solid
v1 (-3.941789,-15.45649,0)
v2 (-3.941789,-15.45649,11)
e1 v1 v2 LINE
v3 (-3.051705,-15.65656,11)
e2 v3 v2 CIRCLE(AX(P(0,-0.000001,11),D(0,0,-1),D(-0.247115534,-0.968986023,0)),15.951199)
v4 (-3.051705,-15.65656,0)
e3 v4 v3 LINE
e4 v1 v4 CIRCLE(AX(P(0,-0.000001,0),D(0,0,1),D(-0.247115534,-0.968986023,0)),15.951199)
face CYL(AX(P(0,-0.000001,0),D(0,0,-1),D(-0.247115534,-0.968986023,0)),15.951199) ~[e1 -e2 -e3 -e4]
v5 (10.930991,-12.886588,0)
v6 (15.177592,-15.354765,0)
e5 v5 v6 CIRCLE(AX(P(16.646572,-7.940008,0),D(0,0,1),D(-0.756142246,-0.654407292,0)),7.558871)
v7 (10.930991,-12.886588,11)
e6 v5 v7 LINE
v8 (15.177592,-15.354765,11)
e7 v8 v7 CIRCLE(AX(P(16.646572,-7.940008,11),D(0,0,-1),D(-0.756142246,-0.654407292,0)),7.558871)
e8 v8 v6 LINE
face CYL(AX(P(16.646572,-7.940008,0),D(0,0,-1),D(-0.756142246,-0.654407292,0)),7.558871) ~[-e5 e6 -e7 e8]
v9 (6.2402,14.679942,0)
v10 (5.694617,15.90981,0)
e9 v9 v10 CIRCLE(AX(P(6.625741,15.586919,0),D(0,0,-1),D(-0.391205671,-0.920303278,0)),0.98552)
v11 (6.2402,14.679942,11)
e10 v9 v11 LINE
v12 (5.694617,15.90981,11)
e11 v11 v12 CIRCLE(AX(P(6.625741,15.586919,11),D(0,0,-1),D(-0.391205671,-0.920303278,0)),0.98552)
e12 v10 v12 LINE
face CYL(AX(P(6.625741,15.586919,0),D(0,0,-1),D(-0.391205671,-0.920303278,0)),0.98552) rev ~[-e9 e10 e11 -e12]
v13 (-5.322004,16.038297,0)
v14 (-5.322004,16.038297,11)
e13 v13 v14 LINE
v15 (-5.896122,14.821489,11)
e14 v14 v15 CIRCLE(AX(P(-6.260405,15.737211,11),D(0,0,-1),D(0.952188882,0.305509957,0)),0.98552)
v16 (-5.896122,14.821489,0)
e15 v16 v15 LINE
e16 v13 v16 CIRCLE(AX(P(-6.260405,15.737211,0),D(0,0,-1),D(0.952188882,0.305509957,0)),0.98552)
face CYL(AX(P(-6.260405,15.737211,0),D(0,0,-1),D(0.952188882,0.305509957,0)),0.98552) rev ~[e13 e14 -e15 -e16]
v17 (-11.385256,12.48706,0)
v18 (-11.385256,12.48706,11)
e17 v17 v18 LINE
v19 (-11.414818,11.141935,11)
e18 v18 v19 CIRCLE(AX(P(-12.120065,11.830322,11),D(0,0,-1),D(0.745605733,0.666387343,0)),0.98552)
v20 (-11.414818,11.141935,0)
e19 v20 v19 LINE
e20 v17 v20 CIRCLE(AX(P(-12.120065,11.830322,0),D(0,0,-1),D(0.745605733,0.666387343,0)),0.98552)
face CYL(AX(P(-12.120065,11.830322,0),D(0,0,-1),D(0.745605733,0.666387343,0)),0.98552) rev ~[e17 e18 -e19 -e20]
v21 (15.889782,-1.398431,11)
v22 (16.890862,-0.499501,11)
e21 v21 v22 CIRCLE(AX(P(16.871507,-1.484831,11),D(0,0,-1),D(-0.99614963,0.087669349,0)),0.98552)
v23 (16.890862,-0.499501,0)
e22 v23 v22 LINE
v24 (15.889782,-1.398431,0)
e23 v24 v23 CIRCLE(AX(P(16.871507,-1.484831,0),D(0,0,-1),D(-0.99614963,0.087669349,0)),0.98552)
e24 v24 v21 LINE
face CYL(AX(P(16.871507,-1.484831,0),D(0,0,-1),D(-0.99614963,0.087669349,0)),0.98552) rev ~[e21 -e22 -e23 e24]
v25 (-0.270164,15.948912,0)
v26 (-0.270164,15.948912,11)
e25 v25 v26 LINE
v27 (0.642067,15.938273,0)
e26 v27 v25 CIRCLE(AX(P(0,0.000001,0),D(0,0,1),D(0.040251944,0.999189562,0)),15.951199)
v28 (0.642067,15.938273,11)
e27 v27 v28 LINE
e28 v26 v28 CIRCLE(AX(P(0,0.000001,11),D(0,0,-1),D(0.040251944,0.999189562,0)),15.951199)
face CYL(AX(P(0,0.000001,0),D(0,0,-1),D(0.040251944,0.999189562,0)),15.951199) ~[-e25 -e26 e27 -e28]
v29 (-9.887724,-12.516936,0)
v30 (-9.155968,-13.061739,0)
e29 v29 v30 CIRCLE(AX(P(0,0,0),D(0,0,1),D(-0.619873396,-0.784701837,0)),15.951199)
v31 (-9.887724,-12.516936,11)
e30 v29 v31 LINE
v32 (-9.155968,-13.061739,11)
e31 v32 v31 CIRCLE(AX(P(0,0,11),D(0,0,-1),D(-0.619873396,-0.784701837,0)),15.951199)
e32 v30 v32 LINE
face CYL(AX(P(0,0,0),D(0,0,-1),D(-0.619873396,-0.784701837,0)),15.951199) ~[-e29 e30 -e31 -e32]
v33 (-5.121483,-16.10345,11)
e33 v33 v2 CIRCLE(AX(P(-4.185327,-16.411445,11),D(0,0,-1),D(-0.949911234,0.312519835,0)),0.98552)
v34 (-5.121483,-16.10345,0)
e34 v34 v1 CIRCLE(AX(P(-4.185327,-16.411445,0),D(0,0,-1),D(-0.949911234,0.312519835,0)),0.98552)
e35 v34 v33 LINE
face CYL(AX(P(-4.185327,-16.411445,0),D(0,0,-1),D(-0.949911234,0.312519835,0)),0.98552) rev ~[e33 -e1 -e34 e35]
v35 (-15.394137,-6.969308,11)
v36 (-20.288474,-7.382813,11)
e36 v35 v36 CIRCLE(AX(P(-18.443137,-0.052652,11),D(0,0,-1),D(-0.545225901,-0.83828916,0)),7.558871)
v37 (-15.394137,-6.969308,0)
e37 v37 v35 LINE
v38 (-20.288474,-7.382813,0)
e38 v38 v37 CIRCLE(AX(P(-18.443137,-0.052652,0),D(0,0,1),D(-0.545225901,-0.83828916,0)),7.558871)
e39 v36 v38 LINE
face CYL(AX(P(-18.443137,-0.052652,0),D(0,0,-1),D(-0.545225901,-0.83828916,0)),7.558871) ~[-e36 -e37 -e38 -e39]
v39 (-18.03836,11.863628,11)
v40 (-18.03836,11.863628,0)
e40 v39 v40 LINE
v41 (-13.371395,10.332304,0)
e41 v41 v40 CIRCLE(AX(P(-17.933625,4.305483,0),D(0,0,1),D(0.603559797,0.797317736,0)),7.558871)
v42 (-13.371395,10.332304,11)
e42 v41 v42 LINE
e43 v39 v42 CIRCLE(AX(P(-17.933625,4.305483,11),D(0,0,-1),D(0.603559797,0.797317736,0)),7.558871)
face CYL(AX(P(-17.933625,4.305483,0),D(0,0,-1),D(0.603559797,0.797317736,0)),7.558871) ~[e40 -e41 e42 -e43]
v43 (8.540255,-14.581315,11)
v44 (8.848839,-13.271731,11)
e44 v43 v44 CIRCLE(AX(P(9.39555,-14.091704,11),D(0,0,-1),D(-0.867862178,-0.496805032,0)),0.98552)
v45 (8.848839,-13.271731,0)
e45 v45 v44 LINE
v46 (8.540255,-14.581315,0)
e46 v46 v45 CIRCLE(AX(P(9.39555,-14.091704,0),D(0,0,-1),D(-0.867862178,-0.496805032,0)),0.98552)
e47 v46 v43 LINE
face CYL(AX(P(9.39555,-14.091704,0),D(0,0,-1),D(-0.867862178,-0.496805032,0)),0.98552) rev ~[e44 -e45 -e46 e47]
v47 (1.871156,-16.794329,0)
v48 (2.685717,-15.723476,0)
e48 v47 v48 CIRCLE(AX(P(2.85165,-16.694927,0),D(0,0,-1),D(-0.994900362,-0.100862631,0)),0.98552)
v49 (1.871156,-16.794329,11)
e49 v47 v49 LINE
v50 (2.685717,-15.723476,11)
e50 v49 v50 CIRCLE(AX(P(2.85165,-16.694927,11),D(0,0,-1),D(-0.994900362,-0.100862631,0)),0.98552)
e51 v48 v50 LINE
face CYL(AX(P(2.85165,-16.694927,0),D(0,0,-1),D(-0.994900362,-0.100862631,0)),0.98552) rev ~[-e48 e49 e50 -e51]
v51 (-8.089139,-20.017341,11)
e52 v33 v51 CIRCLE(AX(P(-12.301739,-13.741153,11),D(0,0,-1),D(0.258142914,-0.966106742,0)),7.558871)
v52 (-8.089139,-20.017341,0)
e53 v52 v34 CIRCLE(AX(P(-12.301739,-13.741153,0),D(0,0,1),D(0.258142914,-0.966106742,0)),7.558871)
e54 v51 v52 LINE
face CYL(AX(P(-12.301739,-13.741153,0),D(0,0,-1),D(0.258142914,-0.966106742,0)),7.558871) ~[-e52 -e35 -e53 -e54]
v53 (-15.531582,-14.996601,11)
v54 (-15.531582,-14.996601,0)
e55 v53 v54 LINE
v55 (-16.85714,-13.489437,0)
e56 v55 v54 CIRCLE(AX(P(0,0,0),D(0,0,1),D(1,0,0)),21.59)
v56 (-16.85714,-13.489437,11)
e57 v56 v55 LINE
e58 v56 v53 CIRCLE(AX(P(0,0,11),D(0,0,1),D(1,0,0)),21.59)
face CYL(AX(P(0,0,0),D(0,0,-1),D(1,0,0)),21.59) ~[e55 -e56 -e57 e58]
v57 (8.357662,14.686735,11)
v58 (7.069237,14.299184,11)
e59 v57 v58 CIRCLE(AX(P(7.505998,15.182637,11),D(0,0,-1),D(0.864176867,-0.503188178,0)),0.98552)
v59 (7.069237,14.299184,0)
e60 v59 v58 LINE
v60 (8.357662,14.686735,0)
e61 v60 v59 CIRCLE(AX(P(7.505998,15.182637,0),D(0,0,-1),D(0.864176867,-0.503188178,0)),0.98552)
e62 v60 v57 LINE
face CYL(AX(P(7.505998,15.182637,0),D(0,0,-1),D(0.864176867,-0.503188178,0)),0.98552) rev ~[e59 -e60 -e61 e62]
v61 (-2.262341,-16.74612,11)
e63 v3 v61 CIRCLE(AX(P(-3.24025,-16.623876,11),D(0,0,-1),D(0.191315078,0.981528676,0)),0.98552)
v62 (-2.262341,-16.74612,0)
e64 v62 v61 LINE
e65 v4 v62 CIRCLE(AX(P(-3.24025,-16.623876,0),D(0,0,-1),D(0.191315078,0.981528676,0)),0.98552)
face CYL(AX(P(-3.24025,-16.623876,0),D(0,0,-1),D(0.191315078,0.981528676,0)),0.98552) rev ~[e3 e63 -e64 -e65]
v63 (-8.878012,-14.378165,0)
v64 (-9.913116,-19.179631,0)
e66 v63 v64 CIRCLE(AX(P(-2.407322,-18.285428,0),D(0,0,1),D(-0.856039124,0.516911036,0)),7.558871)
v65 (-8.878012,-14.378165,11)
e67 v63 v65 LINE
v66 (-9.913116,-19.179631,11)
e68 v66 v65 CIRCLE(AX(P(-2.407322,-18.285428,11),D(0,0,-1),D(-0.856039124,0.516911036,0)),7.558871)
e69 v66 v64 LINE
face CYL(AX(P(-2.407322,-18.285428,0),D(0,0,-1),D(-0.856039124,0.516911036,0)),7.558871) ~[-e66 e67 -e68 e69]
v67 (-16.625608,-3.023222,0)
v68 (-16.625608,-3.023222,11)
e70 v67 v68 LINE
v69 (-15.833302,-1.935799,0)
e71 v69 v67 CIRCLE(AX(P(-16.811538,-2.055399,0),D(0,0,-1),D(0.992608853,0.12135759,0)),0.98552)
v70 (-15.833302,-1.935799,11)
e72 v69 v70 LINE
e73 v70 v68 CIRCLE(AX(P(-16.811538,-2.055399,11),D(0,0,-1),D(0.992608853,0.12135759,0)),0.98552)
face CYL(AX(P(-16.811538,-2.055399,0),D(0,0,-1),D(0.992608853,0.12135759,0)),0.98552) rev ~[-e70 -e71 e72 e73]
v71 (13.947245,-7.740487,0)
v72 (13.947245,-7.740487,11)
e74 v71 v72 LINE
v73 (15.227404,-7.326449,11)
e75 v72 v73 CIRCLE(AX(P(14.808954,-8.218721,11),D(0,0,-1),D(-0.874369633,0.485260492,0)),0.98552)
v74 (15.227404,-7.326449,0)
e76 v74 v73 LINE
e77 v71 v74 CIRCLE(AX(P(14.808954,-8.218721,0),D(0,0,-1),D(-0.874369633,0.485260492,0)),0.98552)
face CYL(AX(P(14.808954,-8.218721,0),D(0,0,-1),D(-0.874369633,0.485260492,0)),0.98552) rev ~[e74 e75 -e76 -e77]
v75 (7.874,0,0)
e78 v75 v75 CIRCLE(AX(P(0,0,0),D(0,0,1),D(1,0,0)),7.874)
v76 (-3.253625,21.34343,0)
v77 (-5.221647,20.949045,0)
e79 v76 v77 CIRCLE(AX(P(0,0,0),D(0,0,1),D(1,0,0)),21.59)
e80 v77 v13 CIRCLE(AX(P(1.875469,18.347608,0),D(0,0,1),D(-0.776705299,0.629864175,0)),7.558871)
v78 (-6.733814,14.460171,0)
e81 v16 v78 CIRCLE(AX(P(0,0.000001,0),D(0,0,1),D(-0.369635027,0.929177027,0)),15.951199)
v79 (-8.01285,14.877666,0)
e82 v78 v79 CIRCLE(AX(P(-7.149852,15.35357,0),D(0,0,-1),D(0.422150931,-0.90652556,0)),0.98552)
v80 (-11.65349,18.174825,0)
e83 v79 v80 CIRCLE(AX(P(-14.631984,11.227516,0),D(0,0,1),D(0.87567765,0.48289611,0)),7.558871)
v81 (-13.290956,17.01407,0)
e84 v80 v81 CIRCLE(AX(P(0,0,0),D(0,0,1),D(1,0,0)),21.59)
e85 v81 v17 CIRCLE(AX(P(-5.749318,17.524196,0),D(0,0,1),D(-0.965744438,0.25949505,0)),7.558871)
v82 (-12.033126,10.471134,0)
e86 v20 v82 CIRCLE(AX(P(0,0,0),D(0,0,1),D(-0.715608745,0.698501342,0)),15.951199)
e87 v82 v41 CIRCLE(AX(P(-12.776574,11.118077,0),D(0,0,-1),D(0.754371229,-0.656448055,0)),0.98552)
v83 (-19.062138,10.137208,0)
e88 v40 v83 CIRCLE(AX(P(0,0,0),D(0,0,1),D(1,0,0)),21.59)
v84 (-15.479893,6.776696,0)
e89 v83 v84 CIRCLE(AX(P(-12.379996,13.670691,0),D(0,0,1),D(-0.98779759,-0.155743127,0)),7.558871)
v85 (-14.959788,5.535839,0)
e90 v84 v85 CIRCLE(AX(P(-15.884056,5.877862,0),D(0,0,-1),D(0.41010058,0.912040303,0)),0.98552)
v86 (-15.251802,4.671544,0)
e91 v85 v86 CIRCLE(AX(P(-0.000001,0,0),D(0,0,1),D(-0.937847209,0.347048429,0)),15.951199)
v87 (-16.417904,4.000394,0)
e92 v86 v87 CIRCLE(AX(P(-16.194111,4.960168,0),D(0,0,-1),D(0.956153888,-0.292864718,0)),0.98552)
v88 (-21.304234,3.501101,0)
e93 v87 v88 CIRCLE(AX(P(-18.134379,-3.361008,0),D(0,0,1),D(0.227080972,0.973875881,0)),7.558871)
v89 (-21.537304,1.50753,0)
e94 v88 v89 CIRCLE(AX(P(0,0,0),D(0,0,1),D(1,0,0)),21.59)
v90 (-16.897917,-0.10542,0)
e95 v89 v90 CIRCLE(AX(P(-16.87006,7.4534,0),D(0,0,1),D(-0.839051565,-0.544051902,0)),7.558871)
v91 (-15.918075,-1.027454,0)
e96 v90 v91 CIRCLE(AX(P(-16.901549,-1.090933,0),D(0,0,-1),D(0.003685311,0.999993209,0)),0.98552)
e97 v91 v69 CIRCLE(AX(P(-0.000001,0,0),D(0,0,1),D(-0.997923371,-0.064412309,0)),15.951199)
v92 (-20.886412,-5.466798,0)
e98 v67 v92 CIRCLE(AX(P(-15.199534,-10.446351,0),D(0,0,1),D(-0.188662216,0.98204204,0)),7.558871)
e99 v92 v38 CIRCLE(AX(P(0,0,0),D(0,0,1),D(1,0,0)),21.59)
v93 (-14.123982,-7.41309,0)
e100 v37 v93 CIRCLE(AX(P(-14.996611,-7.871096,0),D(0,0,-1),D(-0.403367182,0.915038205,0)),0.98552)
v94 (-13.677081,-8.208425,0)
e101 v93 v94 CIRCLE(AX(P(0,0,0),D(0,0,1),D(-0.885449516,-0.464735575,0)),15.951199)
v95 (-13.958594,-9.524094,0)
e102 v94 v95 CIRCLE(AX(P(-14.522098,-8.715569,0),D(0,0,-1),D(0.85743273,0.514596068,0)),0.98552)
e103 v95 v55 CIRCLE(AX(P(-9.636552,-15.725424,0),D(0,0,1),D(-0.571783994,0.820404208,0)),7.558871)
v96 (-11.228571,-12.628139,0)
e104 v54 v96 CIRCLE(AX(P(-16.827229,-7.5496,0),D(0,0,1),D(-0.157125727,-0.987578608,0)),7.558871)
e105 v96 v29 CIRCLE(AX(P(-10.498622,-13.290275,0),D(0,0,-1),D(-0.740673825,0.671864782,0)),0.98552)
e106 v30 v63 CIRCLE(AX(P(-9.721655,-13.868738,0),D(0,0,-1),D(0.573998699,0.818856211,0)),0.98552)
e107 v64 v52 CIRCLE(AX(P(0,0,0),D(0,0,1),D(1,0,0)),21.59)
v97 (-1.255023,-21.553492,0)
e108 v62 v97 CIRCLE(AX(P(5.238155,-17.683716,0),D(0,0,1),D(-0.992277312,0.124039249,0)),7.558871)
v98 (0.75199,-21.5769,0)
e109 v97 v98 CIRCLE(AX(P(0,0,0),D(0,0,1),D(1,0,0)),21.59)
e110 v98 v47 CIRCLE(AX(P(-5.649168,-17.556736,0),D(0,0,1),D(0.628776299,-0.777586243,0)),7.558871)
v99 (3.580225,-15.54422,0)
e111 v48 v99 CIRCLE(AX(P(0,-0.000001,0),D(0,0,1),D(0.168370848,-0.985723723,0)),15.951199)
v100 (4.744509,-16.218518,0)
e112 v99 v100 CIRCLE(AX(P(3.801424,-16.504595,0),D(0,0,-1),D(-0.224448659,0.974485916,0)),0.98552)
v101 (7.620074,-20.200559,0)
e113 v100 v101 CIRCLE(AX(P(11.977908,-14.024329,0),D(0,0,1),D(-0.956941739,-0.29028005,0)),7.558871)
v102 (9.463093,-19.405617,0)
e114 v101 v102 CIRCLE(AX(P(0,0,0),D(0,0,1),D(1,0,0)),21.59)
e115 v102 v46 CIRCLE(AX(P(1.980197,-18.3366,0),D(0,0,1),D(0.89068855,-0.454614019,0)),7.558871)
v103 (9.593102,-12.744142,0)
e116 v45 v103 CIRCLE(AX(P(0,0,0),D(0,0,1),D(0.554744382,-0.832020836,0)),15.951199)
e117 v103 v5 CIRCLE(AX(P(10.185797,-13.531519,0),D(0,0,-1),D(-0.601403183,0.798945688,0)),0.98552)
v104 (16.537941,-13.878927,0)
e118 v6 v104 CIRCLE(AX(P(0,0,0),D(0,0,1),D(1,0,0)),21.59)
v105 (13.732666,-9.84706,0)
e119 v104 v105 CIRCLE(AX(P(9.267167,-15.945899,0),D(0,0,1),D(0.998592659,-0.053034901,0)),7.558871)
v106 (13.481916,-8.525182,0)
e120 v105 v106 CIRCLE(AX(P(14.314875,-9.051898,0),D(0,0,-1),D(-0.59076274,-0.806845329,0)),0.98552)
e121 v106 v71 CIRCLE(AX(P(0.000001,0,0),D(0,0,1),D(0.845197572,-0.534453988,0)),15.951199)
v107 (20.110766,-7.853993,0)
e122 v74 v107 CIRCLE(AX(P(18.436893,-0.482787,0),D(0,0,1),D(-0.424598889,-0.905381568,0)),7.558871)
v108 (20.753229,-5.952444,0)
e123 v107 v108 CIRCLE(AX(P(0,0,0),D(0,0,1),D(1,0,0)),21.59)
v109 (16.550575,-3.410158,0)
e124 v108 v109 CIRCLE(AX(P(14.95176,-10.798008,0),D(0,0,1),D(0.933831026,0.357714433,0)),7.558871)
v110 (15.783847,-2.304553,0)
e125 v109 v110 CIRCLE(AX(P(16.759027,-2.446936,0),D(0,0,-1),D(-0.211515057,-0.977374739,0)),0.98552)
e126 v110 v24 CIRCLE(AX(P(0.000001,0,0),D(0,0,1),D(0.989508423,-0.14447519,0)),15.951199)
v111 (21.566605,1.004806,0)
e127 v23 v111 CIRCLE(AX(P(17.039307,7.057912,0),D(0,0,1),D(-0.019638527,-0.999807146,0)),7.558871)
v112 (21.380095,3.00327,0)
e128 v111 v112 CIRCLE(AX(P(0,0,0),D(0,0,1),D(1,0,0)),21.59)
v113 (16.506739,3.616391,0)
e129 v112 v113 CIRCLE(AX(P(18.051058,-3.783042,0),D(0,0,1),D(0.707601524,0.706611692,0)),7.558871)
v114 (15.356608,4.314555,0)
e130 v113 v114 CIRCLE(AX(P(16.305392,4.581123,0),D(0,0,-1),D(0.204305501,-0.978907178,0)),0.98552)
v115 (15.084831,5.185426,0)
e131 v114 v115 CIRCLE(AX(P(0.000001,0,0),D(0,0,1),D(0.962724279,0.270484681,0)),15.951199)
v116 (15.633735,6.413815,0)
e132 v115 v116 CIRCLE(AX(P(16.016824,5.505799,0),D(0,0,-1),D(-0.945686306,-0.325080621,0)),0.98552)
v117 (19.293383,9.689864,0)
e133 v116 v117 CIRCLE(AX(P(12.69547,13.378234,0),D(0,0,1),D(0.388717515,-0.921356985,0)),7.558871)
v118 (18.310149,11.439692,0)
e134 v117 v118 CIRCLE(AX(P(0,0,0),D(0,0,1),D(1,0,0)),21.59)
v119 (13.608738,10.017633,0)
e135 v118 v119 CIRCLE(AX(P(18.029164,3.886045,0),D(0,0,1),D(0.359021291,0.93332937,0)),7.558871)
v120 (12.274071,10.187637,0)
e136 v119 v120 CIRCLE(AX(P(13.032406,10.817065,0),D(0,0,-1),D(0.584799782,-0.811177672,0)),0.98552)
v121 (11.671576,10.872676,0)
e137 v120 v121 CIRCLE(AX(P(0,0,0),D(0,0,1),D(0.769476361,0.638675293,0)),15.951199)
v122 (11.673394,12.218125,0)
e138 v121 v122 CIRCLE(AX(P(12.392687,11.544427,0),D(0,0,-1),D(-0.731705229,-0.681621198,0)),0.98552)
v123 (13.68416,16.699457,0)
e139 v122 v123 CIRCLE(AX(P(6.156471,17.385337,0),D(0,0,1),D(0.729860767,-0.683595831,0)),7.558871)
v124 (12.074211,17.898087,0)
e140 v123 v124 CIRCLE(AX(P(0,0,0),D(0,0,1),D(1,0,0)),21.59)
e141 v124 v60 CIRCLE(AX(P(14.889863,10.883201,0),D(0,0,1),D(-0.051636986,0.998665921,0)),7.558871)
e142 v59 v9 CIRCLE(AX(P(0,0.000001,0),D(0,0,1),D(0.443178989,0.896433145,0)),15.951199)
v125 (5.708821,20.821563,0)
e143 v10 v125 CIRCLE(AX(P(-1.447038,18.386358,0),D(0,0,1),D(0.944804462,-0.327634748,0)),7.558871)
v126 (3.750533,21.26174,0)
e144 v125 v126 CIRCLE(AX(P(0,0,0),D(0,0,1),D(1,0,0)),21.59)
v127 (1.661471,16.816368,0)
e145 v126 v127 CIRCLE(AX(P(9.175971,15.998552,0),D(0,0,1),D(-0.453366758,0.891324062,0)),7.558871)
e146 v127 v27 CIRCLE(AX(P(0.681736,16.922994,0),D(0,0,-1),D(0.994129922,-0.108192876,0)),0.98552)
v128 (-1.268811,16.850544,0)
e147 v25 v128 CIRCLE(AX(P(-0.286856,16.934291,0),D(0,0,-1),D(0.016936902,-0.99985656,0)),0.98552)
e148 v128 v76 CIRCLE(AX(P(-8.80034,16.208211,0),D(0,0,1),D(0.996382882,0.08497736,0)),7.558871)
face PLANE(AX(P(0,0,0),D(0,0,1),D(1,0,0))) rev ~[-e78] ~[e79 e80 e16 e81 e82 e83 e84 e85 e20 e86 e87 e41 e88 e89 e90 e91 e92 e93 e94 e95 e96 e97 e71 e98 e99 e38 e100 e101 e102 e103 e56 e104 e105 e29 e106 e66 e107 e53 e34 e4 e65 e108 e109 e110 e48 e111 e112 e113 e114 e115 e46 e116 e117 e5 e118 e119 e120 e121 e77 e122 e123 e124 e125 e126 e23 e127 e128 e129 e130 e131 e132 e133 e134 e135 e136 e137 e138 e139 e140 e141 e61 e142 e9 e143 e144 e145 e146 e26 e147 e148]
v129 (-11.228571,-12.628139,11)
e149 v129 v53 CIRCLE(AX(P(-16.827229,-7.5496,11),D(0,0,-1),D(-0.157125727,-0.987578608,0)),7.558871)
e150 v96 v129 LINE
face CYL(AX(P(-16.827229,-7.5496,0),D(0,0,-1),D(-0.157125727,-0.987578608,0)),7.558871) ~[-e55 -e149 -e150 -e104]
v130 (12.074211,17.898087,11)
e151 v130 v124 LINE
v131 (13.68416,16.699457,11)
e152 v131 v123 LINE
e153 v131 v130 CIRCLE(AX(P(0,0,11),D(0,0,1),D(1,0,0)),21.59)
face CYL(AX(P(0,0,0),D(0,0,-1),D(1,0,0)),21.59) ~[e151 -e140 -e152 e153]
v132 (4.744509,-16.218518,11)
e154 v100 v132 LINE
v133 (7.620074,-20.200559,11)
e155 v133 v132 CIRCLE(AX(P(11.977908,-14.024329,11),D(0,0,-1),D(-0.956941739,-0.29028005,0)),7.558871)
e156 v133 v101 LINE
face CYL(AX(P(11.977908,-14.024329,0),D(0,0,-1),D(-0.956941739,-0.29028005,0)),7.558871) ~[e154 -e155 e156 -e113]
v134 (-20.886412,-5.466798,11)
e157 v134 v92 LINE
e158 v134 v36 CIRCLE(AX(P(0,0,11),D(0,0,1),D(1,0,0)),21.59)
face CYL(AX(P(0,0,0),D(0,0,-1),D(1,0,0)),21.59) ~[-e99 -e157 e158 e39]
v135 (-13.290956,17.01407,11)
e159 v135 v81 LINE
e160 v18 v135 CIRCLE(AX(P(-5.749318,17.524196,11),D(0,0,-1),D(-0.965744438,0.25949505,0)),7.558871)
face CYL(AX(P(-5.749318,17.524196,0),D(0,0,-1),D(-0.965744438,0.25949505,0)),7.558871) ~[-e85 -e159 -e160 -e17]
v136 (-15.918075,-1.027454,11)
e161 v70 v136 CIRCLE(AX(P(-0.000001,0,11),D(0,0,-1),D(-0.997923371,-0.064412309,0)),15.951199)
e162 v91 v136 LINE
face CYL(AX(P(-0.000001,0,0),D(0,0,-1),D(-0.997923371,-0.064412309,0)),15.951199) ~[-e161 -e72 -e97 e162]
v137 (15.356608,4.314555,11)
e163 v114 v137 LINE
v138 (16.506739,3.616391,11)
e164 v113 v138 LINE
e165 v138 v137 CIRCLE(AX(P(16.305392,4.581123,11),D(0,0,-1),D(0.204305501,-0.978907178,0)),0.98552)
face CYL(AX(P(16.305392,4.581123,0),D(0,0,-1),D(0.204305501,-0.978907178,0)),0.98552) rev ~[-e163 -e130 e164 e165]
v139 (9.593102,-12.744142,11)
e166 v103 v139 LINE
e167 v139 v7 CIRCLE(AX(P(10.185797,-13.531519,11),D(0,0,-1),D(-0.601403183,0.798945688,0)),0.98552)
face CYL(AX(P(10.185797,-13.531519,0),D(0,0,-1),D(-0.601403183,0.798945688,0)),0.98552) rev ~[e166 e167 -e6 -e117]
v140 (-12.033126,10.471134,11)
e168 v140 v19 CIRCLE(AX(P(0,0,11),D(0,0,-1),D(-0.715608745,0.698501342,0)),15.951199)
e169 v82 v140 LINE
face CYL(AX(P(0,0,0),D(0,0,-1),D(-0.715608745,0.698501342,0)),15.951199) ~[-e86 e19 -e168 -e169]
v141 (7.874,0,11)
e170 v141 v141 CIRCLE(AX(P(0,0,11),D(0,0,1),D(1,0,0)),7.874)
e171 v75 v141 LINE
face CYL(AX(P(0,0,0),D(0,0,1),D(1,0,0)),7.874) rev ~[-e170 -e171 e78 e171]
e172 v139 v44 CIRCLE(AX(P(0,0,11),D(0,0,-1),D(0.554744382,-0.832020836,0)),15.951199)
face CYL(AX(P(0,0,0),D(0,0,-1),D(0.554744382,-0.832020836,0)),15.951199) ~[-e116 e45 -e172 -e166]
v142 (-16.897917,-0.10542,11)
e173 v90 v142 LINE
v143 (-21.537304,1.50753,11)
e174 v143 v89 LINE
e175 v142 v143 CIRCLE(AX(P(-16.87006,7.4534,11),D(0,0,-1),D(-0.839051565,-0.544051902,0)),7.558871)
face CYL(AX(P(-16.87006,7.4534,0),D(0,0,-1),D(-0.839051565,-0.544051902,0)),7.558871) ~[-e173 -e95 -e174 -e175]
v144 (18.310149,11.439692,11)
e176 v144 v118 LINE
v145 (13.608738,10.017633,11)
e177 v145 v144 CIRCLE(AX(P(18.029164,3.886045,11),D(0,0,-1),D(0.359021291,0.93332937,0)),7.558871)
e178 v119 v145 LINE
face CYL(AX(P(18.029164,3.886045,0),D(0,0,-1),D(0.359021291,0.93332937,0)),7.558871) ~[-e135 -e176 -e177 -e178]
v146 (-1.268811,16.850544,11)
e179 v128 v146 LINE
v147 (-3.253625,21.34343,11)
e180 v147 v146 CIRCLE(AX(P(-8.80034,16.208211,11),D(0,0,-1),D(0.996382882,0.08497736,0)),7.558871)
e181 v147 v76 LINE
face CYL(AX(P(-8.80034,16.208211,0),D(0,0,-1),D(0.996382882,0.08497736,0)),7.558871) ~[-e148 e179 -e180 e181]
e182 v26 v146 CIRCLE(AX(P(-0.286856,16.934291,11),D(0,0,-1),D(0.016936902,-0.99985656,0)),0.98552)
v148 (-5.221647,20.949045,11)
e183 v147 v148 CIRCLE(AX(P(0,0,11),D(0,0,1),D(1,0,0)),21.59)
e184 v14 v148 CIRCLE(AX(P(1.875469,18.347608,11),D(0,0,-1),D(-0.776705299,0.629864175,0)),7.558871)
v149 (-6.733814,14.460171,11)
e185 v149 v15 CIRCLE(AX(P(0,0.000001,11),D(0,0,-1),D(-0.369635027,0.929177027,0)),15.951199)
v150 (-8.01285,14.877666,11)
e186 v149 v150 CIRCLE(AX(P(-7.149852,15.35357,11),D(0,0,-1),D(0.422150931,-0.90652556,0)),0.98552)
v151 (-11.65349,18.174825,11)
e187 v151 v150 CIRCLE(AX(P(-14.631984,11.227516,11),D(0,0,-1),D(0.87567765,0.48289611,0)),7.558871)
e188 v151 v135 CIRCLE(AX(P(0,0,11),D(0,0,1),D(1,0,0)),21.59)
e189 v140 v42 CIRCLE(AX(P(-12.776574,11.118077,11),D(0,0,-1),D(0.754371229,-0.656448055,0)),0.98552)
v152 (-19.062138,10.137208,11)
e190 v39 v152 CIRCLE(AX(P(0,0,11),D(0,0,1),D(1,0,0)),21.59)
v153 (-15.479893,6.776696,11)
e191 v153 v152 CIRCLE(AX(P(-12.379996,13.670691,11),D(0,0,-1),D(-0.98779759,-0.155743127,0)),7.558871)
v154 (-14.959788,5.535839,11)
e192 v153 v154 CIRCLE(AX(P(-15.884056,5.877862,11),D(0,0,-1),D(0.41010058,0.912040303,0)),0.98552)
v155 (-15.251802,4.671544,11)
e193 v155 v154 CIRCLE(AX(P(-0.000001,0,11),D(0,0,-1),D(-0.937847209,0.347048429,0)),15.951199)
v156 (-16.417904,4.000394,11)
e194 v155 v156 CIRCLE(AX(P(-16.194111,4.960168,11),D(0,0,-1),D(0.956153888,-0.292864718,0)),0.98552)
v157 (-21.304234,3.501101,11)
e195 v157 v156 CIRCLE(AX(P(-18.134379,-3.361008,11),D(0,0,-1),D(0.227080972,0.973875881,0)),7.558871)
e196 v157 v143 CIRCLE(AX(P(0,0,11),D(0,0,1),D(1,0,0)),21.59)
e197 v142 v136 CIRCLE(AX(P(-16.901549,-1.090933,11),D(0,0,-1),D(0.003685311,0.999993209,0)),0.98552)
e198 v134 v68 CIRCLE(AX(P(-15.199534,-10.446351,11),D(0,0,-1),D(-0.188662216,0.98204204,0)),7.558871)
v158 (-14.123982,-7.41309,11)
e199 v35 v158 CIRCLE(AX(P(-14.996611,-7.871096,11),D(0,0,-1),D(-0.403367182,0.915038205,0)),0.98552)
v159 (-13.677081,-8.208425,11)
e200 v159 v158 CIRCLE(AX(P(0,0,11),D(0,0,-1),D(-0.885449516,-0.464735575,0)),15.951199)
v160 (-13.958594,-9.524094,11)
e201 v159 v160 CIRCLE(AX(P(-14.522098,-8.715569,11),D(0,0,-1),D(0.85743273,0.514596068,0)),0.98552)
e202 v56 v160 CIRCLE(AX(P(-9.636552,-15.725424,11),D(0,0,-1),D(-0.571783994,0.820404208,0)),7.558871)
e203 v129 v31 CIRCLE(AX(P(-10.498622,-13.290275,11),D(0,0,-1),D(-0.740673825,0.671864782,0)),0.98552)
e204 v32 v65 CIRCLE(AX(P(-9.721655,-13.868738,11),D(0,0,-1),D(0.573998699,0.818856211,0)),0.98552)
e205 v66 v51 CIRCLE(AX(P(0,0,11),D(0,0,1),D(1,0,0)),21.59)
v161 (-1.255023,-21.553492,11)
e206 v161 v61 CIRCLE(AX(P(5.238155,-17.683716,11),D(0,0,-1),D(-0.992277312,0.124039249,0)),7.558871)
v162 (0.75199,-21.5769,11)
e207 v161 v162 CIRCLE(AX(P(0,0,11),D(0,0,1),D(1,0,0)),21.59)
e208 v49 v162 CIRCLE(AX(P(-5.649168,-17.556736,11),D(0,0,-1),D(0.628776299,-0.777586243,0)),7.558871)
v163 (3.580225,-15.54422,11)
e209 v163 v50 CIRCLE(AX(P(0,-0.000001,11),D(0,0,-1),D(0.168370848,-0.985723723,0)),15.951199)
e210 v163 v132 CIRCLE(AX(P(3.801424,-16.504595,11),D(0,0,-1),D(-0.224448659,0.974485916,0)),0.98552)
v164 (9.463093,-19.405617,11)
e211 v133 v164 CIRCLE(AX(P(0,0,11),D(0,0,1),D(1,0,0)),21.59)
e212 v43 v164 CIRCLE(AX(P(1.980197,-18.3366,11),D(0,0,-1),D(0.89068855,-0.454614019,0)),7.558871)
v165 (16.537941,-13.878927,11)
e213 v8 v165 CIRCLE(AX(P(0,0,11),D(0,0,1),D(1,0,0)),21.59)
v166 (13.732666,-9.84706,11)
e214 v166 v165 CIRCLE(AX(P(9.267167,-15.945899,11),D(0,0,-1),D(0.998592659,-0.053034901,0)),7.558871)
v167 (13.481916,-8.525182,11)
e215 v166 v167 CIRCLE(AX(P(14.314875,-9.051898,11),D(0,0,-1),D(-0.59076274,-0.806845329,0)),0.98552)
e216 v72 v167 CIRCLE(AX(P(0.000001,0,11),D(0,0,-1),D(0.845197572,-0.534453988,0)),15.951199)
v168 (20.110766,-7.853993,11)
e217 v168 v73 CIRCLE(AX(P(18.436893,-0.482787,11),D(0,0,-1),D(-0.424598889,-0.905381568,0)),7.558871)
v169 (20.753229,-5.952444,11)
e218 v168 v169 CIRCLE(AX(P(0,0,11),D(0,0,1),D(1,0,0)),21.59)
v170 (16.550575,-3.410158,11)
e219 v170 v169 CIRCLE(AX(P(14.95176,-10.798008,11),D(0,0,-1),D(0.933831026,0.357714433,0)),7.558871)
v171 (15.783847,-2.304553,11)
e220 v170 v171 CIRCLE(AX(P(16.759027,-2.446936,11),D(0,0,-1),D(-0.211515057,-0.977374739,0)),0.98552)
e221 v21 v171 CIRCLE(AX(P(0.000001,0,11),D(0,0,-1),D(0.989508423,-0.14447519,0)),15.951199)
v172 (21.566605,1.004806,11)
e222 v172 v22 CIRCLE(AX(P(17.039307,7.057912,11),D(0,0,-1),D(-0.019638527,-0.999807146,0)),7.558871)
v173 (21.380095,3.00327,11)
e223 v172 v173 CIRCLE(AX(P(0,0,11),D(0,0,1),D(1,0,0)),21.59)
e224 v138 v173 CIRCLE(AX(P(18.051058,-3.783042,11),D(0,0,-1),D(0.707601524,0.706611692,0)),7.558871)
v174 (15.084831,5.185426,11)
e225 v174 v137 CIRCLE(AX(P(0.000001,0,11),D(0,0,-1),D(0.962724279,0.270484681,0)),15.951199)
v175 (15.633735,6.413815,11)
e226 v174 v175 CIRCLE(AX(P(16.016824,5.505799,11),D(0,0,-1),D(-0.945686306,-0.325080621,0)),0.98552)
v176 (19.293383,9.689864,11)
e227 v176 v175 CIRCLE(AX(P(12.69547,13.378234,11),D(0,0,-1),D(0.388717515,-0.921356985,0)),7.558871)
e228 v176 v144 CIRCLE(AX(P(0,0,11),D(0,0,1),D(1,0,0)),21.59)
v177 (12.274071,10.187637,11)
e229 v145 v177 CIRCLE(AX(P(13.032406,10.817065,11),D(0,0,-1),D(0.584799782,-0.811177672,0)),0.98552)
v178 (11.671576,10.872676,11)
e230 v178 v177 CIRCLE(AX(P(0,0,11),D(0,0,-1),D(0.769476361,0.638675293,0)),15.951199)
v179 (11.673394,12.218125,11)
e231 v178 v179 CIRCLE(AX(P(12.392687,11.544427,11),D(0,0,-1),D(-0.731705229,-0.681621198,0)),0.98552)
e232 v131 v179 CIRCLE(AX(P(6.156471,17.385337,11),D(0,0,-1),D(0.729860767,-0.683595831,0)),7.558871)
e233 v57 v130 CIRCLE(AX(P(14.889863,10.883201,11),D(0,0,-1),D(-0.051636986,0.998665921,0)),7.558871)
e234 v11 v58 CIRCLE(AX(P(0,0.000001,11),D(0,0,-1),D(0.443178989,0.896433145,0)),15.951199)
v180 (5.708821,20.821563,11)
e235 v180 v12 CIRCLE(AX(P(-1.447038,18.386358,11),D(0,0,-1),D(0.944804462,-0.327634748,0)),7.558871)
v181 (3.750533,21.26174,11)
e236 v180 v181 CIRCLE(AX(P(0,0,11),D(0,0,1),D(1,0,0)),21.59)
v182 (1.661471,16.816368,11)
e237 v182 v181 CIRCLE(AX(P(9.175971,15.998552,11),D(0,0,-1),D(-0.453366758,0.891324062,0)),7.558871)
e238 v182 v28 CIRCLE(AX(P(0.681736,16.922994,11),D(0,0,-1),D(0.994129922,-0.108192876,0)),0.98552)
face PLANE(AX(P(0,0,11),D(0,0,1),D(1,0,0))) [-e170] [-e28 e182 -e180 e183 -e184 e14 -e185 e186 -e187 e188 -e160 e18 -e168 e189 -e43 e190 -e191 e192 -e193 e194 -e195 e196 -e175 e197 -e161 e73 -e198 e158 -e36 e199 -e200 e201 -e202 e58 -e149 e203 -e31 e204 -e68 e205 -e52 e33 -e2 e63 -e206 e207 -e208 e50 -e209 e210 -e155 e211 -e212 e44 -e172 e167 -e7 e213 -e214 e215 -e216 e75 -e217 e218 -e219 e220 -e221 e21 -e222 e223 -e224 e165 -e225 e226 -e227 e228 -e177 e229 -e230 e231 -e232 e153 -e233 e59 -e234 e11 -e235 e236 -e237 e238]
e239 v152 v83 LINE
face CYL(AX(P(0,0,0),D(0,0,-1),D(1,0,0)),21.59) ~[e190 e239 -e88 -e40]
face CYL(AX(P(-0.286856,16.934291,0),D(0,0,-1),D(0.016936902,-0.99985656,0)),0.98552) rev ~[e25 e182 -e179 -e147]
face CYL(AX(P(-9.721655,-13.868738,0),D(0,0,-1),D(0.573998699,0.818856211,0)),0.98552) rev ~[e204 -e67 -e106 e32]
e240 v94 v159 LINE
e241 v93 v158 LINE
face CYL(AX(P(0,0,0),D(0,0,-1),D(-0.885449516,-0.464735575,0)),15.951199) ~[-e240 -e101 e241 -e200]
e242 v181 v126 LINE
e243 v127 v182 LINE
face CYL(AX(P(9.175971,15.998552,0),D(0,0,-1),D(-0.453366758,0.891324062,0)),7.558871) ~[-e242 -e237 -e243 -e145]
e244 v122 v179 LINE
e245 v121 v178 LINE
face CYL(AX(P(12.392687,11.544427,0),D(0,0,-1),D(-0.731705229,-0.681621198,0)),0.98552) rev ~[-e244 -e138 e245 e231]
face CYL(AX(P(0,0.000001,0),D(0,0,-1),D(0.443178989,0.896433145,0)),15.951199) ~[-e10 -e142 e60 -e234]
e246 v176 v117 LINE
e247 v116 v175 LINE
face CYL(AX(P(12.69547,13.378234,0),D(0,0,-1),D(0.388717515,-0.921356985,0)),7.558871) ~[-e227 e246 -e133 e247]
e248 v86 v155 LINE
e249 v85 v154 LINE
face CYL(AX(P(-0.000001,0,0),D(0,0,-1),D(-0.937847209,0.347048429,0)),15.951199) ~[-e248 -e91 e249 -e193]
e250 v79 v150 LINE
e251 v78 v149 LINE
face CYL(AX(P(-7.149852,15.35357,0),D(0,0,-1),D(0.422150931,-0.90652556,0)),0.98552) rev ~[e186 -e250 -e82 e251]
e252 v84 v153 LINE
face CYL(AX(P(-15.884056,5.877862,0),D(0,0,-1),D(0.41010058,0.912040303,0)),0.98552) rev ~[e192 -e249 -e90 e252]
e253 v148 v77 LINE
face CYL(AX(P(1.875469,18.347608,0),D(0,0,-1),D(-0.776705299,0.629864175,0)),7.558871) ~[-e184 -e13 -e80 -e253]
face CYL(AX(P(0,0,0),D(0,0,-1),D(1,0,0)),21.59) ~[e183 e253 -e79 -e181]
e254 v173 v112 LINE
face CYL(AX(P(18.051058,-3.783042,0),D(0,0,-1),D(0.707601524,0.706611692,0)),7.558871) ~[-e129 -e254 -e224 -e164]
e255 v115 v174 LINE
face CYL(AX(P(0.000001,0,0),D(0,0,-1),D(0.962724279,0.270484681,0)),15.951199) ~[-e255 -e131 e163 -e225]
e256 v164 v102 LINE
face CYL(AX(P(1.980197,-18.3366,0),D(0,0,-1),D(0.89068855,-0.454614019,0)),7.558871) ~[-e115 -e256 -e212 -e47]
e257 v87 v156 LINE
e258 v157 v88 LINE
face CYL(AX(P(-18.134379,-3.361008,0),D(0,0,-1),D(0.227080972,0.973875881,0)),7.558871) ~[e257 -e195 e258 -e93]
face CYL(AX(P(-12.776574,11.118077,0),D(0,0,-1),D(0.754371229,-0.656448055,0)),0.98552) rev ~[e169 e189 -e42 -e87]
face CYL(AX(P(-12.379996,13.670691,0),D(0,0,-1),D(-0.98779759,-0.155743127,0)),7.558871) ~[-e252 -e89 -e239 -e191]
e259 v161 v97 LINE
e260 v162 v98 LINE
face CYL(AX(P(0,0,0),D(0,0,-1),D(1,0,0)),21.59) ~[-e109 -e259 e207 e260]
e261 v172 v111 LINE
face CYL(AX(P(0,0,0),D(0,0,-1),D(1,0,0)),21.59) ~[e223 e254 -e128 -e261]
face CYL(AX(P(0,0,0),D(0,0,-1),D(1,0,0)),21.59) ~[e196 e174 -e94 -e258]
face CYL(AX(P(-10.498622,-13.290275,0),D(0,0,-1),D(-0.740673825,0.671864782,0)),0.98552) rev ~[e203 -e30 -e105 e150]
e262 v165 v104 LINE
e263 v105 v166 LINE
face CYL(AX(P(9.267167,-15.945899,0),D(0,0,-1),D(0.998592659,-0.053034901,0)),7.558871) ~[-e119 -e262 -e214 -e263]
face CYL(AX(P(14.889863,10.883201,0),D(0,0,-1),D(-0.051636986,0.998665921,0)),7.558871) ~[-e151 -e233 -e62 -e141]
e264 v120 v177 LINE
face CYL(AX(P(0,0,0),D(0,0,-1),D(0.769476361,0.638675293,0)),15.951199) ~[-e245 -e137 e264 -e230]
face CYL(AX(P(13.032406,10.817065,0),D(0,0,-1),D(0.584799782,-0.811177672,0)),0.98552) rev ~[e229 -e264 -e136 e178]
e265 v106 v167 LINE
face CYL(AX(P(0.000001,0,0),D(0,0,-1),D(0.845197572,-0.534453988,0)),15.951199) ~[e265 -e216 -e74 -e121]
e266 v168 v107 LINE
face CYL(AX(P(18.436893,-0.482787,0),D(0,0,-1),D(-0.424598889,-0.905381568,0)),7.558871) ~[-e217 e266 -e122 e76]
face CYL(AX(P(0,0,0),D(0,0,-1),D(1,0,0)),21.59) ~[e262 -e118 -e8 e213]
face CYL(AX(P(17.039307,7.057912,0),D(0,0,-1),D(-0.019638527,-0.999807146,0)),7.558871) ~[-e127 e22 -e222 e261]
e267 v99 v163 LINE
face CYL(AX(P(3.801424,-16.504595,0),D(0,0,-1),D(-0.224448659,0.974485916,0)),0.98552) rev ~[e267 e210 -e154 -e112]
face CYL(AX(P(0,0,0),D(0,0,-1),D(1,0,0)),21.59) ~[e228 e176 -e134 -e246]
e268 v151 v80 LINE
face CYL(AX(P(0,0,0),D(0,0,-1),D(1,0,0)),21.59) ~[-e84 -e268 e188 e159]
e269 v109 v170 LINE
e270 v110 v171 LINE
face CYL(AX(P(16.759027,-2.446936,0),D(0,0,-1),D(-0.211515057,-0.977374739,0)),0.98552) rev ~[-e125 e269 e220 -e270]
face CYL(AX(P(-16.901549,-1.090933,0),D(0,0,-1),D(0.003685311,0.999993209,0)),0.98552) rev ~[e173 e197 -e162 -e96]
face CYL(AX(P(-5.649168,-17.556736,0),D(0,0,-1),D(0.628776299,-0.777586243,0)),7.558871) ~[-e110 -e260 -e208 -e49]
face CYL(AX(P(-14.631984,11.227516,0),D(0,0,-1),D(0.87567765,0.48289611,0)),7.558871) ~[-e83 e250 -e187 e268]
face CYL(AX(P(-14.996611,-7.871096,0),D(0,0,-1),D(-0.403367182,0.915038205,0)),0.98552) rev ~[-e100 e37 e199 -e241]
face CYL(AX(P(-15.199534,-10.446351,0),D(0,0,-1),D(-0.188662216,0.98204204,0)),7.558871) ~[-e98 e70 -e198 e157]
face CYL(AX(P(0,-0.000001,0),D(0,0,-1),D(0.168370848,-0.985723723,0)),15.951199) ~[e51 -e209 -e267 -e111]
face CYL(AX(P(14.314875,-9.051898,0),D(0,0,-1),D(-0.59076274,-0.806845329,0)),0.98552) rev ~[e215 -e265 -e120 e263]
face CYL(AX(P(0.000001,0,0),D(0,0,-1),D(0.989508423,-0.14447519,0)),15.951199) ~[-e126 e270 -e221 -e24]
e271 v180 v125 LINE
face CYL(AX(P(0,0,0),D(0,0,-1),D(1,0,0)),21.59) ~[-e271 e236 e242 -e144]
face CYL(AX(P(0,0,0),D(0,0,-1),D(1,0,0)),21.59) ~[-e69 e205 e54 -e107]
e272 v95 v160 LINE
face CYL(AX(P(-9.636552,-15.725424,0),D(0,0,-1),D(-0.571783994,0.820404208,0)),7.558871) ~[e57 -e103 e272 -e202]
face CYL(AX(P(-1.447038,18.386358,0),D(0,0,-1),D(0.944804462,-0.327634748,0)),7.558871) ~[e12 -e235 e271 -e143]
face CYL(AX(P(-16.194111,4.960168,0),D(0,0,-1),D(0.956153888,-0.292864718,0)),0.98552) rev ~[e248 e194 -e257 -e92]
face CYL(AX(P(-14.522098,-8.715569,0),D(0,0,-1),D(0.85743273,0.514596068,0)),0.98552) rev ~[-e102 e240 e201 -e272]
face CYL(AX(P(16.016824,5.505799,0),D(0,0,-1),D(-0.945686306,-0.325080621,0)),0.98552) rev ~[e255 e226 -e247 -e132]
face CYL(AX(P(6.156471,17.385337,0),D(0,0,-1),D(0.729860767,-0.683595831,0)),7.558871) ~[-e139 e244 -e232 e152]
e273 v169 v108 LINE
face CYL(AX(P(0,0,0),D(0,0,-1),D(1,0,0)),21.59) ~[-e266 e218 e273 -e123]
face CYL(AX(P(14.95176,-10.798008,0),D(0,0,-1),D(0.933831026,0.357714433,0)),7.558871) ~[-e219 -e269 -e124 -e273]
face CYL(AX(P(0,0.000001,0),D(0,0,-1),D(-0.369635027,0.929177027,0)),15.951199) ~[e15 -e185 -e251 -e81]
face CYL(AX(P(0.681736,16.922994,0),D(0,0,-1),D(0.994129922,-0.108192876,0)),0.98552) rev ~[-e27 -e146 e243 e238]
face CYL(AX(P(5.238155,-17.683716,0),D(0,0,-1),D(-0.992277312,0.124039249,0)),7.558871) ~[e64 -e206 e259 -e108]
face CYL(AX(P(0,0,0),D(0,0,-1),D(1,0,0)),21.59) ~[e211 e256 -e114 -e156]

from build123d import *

# Parameters (mm, degrees)
SKETCH3_R         = 21.59
GEARBODY_DEPTH    = 11
TOOTHCUT_DEPTH    = 12
CIRPATTERN1_COUNT = 15
BOREDIA_R         = 7.874
BORE_DEPTH        = 12700


with BuildPart() as part:
    # Sketch3 → gearBody (new body)
    with BuildSketch(Plane.XY):
        Circle(SKETCH3_R)
    extrude(amount=GEARBODY_DEPTH)

    # Sketch2 → toothCut (cut, through all)
    with BuildSketch(Plane.XY):
        with BuildLine():
            ThreePointArc((15.783846764, -2.304552616), (15.843293638, -1.852249483), (15.889781974, -1.39843136))
            ThreePointArc((15.889781974, -1.39843136), (16.213055843, -0.751556907), (16.890861518, -0.499501321))
            ThreePointArc((16.890861518, -0.499501321), (20.504912911, 0.340315353), (23.283949955, 2.798691365))
            ThreePointArc((23.283949955, 2.798691365), (23.292901215, -2.723187818), (22.010467945, -8.09409042))
            ThreePointArc((22.010467945, -8.09409042), (19.873444675, -5.060974685), (16.550574786, -3.410158156))
            ThreePointArc((16.550574786, -3.410158156), (15.949189176, -3.008551507), (15.783846764, -2.304552616))
        make_face()
    toothcut = extrude(amount=TOOTHCUT_DEPTH, mode=Mode.SUBTRACT)

    # CirPattern1: toothCut ×15 about axis
    cirpattern1_axis = Axis((0, 0, 0), (0, 0, 1))
    for i in range(1, CIRPATTERN1_COUNT):
        add(toothcut.rotate(cirpattern1_axis, i * 360 / CIRPATTERN1_COUNT), mode=Mode.SUBTRACT)

    # boreDia → bore (cut, symmetric)
    with BuildSketch(Plane.XY):
        Circle(BOREDIA_R)
    extrude(amount=BORE_DEPTH, both=True, mode=Mode.SUBTRACT)


solid = part.part
